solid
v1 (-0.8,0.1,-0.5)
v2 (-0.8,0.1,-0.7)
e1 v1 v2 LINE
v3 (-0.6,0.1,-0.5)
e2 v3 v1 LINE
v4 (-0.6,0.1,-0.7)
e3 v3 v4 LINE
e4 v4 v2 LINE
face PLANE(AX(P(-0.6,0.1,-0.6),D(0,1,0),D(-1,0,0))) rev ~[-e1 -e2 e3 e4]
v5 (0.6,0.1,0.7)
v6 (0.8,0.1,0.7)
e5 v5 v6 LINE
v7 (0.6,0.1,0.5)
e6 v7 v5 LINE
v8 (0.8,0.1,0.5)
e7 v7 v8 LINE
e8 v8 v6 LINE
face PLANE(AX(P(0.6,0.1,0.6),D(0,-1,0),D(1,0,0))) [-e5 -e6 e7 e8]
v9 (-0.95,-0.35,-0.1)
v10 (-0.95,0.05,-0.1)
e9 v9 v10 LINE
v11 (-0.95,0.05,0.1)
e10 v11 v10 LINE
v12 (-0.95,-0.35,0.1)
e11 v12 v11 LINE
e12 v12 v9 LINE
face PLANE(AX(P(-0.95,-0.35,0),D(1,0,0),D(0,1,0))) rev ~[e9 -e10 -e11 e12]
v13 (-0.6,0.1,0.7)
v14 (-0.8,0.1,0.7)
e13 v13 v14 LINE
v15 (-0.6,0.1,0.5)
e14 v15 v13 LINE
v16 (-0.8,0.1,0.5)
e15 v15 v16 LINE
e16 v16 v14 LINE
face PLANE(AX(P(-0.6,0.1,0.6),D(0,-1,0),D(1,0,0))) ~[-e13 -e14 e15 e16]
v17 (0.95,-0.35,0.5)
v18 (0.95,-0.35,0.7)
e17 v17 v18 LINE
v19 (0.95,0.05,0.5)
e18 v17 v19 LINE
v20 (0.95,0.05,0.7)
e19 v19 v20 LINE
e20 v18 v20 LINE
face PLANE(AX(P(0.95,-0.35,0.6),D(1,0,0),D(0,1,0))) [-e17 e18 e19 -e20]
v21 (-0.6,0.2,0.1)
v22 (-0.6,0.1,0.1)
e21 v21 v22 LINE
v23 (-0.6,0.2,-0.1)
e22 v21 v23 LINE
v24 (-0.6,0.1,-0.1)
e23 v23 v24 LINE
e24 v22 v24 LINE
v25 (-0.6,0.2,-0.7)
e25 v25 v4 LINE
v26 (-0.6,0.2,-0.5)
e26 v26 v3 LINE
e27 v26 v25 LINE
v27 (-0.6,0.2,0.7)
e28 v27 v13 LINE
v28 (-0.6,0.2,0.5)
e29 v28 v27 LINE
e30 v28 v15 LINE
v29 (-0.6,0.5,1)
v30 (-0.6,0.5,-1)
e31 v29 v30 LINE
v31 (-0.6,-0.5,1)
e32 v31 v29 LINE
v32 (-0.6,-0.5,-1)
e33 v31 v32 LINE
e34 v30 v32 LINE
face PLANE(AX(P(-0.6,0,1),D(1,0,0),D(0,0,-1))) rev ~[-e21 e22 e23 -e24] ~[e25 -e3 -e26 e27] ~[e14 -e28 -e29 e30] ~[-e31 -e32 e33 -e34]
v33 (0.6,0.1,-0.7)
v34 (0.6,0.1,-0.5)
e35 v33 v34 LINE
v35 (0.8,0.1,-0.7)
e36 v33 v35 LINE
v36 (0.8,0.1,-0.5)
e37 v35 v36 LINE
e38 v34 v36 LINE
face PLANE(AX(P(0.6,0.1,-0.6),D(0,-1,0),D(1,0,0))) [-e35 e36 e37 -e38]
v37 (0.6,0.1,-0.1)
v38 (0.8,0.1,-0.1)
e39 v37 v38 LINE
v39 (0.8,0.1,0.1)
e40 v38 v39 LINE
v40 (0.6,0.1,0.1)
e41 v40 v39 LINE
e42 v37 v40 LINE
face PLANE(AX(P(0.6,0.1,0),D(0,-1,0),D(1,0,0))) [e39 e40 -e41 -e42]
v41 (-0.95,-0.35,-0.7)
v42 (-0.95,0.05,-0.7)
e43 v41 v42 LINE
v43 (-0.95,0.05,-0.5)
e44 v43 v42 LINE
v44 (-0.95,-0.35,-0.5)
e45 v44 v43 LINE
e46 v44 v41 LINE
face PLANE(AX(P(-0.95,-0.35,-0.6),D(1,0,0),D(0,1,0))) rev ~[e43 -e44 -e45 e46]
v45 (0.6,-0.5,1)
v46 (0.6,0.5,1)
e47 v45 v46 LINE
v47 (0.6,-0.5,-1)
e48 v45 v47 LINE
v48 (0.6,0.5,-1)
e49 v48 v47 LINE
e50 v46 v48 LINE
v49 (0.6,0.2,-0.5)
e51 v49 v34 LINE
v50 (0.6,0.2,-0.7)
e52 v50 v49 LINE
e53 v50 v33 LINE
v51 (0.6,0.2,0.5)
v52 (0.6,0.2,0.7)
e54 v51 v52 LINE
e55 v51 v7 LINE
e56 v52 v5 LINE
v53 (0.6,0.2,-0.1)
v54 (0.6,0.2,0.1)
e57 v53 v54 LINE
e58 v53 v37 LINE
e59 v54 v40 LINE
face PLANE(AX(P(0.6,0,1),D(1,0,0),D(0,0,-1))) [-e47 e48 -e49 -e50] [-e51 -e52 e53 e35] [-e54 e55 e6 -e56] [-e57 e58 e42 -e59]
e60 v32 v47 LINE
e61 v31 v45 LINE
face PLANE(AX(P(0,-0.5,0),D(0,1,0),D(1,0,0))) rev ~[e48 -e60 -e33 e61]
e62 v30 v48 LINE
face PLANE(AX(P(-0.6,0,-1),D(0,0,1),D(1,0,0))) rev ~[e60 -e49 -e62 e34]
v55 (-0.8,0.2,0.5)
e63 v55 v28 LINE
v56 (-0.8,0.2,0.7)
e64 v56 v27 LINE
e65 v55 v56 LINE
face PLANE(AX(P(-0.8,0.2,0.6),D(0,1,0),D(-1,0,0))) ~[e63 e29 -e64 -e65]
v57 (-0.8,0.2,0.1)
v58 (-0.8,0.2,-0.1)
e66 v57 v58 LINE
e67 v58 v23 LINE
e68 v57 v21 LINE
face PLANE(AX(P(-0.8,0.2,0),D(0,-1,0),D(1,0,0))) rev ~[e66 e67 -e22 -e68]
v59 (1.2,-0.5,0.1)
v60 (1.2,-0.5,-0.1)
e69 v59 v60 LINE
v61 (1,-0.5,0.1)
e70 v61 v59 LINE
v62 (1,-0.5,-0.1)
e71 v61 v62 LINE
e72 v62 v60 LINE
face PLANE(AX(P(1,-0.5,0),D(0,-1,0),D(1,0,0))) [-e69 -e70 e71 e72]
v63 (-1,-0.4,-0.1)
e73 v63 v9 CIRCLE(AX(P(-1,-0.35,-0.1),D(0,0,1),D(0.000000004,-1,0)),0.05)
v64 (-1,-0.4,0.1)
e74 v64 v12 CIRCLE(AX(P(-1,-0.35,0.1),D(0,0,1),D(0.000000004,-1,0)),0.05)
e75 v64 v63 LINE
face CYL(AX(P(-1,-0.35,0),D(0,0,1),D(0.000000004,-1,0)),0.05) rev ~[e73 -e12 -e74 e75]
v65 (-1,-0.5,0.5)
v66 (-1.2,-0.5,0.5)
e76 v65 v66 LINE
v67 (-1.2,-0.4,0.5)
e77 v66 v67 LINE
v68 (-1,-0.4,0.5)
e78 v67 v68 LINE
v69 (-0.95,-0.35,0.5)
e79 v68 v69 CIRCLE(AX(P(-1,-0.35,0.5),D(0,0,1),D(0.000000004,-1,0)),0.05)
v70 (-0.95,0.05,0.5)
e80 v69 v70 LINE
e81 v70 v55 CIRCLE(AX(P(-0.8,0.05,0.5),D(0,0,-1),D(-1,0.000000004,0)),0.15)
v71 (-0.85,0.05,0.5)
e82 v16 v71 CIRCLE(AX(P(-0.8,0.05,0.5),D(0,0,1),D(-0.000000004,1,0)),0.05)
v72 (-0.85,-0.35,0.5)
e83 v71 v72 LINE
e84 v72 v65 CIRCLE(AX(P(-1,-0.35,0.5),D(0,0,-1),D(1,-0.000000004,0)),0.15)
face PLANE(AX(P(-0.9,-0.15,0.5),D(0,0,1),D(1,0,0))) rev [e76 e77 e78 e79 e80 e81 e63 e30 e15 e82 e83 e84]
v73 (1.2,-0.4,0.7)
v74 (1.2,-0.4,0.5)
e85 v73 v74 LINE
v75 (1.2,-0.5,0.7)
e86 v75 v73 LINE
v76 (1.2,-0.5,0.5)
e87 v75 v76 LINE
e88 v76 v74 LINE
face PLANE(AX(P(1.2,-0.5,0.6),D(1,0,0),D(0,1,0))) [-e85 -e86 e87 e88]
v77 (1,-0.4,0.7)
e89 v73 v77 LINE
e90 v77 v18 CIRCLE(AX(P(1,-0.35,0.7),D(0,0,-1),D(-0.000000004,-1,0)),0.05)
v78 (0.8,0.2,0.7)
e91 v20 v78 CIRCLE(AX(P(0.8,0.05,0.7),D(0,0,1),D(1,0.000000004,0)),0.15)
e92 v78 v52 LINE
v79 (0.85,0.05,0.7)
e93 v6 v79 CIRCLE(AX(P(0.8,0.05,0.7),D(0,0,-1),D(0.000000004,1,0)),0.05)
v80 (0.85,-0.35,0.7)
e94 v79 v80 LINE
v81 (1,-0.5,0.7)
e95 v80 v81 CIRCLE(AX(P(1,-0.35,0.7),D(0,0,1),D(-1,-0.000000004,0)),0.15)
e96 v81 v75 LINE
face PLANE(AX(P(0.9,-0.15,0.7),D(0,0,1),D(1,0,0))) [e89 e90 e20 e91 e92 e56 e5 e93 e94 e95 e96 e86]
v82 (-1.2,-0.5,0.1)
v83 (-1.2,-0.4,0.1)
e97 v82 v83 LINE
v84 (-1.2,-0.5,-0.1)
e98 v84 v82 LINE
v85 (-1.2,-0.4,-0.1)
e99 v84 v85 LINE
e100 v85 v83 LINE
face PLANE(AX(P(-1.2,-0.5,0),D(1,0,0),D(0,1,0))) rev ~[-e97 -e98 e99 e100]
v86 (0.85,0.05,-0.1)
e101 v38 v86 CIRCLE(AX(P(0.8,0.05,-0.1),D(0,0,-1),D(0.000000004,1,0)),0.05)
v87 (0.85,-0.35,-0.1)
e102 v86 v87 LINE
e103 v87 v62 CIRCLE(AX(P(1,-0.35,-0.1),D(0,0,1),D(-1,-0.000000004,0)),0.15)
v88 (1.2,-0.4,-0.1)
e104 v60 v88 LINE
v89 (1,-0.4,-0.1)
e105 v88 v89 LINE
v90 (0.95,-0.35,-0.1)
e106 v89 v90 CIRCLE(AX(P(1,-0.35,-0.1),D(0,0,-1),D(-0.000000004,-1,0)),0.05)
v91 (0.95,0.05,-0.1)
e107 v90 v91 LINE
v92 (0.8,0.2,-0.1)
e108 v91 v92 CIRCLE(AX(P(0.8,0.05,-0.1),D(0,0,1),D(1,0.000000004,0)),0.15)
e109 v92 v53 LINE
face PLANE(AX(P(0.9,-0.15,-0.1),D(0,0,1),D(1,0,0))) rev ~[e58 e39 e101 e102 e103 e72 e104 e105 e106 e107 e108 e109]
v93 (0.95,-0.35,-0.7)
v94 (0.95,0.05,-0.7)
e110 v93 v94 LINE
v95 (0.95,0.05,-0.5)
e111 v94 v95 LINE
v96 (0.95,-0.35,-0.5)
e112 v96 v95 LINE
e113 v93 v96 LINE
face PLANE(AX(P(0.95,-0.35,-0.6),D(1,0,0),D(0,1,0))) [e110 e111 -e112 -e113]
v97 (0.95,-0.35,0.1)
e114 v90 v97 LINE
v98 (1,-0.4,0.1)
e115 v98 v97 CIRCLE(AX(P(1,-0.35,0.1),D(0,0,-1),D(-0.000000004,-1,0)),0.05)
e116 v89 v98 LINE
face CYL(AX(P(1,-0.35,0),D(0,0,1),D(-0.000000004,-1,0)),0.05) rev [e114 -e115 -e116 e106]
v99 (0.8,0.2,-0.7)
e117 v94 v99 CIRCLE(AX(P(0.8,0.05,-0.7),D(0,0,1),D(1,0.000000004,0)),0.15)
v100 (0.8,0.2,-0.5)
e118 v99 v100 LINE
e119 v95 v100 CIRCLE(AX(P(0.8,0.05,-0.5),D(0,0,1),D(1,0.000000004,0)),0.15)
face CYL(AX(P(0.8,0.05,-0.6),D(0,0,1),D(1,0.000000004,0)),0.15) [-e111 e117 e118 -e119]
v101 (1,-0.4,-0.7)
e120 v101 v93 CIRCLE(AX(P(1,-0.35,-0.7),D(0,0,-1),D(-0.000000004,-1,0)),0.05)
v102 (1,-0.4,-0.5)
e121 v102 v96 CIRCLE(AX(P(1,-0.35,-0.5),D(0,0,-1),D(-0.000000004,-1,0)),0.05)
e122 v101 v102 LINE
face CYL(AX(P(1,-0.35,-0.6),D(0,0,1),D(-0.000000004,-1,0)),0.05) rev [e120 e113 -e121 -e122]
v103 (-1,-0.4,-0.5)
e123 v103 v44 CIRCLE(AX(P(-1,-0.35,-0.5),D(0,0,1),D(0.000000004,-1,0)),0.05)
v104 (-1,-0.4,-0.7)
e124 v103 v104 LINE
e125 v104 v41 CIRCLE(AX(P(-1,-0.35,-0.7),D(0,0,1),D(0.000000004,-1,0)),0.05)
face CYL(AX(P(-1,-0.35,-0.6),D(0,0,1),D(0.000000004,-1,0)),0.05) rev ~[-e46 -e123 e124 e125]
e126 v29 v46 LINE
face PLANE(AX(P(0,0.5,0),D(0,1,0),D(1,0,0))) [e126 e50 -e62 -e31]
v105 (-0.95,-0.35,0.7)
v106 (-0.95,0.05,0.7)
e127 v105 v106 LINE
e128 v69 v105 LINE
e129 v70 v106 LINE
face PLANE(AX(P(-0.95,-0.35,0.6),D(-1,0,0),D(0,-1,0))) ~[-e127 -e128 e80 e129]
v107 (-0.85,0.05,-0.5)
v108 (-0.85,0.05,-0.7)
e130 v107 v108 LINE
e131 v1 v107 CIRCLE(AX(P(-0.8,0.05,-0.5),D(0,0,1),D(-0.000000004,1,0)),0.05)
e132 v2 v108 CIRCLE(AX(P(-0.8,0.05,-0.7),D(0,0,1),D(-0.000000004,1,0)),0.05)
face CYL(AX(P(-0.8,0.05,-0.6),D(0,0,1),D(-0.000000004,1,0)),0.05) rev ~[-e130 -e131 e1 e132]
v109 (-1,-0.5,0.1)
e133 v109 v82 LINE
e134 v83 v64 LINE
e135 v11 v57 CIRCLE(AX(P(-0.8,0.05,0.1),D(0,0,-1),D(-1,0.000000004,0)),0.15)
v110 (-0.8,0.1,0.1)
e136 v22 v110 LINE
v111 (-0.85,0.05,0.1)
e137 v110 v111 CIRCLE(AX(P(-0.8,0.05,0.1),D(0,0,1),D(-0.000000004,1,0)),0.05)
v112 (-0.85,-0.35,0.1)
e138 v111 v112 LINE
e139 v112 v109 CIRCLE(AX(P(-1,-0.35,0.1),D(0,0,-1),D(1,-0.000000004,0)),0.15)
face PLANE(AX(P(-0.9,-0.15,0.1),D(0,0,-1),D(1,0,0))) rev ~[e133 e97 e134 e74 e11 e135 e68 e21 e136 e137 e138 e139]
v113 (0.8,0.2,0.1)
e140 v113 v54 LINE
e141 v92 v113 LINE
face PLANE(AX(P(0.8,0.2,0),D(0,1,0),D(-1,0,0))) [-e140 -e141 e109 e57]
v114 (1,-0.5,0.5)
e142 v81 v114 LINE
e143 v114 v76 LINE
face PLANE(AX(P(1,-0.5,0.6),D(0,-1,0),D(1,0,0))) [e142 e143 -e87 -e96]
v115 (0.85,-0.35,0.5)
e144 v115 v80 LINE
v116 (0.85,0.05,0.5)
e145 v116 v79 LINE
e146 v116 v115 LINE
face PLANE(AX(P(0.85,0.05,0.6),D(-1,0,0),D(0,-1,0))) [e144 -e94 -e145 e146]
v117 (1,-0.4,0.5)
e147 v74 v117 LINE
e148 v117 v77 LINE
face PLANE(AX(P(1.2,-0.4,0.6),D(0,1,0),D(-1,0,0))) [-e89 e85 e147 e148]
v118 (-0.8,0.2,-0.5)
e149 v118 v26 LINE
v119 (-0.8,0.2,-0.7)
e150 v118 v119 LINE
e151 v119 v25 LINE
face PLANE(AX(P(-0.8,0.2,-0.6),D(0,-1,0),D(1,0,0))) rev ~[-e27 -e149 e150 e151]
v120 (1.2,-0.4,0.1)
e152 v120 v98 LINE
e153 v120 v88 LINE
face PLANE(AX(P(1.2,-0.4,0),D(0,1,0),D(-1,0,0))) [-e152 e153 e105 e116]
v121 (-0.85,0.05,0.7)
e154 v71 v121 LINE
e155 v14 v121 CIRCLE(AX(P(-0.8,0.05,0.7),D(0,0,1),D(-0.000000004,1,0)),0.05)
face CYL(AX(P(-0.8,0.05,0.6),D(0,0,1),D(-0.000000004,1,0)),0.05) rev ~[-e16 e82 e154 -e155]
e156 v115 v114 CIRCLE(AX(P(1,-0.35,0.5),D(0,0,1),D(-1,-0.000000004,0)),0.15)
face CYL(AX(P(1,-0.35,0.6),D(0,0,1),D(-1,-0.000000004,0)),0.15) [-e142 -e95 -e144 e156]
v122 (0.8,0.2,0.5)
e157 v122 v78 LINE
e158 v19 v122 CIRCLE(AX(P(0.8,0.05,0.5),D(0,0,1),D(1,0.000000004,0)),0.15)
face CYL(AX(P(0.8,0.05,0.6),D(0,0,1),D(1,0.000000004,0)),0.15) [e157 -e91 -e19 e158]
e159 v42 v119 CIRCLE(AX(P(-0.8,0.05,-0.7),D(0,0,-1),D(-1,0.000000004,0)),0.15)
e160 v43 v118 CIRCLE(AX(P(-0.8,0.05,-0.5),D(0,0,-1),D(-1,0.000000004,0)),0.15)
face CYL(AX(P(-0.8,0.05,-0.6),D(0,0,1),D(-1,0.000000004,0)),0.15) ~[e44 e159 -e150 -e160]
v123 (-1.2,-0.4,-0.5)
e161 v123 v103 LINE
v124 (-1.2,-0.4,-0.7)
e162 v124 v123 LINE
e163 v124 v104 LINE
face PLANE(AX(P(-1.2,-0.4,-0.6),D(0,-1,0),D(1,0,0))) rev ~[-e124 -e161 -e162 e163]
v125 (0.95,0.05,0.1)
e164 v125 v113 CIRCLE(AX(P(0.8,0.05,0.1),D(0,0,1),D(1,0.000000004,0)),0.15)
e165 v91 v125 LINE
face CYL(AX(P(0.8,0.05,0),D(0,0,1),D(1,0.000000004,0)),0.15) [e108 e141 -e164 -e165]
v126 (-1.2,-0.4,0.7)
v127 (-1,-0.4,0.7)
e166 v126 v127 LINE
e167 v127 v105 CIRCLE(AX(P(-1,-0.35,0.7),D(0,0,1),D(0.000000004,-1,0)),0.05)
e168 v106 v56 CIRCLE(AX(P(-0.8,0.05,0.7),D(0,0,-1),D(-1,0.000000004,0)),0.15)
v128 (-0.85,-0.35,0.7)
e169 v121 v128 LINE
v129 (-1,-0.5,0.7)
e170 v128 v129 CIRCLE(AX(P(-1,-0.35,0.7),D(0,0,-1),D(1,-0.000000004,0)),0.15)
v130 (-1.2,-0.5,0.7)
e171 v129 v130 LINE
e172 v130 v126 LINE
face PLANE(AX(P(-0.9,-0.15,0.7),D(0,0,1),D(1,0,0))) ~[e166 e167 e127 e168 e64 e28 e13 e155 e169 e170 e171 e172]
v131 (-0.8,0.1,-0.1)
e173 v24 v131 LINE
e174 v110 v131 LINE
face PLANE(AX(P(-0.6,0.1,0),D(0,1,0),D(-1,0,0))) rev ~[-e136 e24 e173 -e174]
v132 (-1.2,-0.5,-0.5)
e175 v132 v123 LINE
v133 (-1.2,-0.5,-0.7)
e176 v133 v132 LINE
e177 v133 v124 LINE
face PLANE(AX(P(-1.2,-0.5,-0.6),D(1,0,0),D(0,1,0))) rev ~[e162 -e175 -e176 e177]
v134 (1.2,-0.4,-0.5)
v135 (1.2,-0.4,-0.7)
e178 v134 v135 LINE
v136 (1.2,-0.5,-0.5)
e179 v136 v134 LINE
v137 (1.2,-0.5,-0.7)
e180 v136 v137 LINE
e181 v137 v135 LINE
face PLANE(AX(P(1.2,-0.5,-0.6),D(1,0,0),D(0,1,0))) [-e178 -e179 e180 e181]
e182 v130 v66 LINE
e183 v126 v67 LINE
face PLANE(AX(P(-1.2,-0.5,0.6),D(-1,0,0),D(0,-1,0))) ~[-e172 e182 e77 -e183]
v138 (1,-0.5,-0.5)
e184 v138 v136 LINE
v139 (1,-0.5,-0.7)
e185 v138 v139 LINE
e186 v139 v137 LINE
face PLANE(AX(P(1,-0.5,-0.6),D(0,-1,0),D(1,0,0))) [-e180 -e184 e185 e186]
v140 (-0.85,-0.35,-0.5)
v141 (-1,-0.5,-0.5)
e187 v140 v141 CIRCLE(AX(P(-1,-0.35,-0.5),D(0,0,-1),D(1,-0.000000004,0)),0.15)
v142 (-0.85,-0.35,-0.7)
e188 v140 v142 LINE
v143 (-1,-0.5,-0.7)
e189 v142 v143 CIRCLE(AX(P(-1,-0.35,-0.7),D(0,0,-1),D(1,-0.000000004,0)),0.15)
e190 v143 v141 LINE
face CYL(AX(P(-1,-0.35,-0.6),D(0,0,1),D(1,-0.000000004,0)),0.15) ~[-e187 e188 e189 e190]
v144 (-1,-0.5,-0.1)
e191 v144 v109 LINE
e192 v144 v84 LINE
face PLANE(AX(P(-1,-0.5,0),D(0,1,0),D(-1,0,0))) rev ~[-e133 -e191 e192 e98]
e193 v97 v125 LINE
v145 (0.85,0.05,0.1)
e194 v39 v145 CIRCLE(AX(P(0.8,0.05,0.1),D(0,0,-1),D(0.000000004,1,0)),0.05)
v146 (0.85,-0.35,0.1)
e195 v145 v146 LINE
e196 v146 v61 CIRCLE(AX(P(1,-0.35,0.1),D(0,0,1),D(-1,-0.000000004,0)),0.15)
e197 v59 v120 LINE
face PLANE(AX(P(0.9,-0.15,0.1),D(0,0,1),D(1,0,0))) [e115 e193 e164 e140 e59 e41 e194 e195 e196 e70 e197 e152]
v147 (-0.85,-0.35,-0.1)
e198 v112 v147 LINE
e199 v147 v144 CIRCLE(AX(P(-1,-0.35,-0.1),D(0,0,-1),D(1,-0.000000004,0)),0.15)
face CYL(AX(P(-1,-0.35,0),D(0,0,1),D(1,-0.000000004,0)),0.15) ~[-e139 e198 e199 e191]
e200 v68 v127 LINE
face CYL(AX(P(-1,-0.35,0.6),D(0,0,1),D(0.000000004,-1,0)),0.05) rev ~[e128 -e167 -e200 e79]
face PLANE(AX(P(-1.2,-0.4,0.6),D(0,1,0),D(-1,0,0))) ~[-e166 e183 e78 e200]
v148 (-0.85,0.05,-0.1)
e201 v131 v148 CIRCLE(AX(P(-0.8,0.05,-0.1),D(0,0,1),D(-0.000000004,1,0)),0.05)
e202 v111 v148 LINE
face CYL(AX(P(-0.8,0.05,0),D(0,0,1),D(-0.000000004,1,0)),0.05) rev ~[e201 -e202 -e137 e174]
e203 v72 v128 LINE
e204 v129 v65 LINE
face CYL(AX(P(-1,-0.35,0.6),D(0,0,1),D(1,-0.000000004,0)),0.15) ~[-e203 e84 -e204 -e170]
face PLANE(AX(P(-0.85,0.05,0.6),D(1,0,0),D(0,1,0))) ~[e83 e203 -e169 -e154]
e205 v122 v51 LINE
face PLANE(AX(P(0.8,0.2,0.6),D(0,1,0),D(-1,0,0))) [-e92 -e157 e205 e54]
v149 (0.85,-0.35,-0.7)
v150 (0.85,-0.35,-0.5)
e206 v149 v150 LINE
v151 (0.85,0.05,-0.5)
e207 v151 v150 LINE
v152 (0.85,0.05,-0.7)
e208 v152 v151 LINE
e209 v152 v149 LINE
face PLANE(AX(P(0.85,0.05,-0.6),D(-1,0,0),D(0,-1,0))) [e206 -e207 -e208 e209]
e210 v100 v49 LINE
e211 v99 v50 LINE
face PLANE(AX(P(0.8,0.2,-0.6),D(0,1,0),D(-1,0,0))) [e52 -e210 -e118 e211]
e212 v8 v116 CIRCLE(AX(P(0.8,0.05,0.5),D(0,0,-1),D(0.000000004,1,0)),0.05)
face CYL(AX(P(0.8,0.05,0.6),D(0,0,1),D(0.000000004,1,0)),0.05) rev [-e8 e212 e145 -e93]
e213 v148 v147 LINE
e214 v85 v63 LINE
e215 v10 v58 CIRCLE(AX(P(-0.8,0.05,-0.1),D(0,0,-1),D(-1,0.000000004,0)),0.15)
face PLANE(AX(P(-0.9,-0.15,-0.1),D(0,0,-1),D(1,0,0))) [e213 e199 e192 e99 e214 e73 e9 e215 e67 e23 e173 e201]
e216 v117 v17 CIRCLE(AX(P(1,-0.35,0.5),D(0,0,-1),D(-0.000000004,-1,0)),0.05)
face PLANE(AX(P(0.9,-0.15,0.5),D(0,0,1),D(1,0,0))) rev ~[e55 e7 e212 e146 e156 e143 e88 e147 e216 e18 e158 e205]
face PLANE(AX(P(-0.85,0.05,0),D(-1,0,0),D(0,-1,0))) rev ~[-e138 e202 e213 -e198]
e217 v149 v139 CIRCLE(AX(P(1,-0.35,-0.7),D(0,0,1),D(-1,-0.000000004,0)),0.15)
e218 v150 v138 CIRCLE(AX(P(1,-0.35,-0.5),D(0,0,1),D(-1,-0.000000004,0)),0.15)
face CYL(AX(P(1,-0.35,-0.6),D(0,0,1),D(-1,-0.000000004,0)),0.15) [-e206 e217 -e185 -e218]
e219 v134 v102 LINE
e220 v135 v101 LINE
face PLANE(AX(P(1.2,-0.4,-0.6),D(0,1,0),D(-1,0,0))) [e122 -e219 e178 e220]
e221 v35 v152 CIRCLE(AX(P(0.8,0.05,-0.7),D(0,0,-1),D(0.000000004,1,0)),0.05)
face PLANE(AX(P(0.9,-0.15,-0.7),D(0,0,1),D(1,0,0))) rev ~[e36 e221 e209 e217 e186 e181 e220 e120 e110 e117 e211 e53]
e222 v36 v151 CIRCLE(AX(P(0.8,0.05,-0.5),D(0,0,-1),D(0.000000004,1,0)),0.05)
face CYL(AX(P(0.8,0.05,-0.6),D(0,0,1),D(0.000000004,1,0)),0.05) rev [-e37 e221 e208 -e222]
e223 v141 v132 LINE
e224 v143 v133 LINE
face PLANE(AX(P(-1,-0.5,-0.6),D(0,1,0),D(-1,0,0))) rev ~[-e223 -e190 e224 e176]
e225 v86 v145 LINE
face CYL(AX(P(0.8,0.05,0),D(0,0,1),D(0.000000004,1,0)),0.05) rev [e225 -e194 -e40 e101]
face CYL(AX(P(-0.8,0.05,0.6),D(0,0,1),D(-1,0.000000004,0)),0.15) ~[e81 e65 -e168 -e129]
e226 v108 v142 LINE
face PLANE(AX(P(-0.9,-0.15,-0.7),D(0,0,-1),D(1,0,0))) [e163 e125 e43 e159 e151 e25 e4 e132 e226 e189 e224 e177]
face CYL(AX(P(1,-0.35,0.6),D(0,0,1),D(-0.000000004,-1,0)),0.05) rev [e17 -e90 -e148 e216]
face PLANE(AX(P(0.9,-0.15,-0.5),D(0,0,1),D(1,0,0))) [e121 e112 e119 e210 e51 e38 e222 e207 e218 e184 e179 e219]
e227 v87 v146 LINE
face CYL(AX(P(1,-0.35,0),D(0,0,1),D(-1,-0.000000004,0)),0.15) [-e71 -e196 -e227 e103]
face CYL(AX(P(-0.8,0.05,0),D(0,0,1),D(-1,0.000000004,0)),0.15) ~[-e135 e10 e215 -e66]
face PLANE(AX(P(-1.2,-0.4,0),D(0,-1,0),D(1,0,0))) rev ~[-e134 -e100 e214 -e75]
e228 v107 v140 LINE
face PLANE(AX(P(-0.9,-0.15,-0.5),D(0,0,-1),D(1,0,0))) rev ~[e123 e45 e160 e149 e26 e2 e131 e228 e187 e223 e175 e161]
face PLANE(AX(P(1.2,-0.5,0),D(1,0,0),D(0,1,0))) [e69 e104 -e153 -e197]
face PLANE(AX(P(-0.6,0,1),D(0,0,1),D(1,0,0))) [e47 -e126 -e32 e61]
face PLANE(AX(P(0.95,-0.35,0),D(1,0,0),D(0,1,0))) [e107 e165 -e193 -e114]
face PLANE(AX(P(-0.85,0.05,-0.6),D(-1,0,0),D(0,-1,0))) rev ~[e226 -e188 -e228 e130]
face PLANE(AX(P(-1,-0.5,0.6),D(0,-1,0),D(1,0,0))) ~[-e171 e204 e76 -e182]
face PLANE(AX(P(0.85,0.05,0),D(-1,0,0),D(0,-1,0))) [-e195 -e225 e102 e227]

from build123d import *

# Parameters (mm, degrees)
BASES_W              = 1.2
BASES_H              = 2
BASE_DEPTH           = 0.5
MIDDLELEG_DEPTH      = 0.1
LPATTERN1_COUNT      = 3
LPATTERN1_PITCH      = 0.6
MIRROR1_COPY_1_DEPTH = 0.1
MIRROR1_COPY_2_DEPTH = 0.1


with BuildPart() as part:
    # BaseS → Base (new body, symmetric)
    with BuildSketch(Plane(origin=(0, 0, 0), x_dir=(1, 0, 0), z_dir=(0, 1, 0))):
        Rectangle(BASES_W, BASES_H)
    extrude(amount=BASE_DEPTH, both=True)

    # MiddleLegS → MiddleLeg (add, symmetric)
    with BuildSketch(Plane.XY.offset(0.6)):
        with BuildLine():
            Line((1.2, -0.4), (1, -0.4))
            ThreePointArc((1, -0.4), (0.964644661, -0.385355339), (0.95, -0.35))
            Line((0.95, -0.35), (0.95, 0.05))
            ThreePointArc((0.95, 0.05), (0.906066017, 0.156066017), (0.8, 0.2))
            Line((0.8, 0.2), (0.6, 0.2))
            Line((0.6, 0.2), (0.6, 0.1))
            Line((0.6, 0.1), (0.8, 0.1))
            ThreePointArc((0.8, 0.1), (0.835355339, 0.085355339), (0.85, 0.05))
            Line((0.85, 0.05), (0.85, -0.35))
            ThreePointArc((0.85, -0.35), (0.893933983, -0.456066017), (1, -0.5))
            Line((1, -0.5), (1.2, -0.5))
            Line((1.2, -0.5), (1.2, -0.4))
        make_face()
    middleleg = extrude(amount=MIDDLELEG_DEPTH, both=True)

    # LPattern1: MiddleLeg ×3
    with Locations(*[(0, 0, -i * LPATTERN1_PITCH) for i in range(1, LPATTERN1_COUNT)]):
        add(middleleg)

    # Mirror1: MiddleLeg across plane
    add(middleleg.mirror(Plane(origin=(0, 0, 0), x_dir=(0, 0, 1), z_dir=(1, 0, 0))))

    # Mirror1 copy 1 sketch → Mirror1 copy 1 (add, symmetric)
    with BuildSketch(Plane(origin=(0, 0, 0), x_dir=(-1, 0, 0), z_dir=(0, 0, 1))):
        with BuildLine():
            Line((1.2, 0.4), (1, 0.4))
            ThreePointArc((1, 0.4), (0.964644661, 0.385355339), (0.95, 0.35))
            Line((0.95, 0.35), (0.95, -0.05))
            ThreePointArc((0.95, -0.05), (0.906066017, -0.156066017), (0.8, -0.2))
            Line((0.8, -0.2), (0.6, -0.2))
            Line((0.6, -0.2), (0.6, -0.1))
            Line((0.6, -0.1), (0.8, -0.1))
            ThreePointArc((0.8, -0.1), (0.835355339, -0.085355339), (0.85, -0.05))
            Line((0.85, -0.05), (0.85, 0.35))
            ThreePointArc((0.85, 0.35), (0.893933983, 0.456066017), (1, 0.5))
            Line((1, 0.5), (1.2, 0.5))
            Line((1.2, 0.5), (1.2, 0.4))
        make_face()
    extrude(amount=MIRROR1_COPY_1_DEPTH, both=True)

    # Mirror1 copy 2 sketch → Mirror1 copy 2 (add, symmetric)
    with BuildSketch(Plane(origin=(0, 0, -0.6), x_dir=(-1, 0, 0), z_dir=(0, 0, 1))):
        with BuildLine():
            Line((1.2, 0.4), (1, 0.4))
            ThreePointArc((1, 0.4), (0.964644661, 0.385355339), (0.95, 0.35))
            Line((0.95, 0.35), (0.95, -0.05))
            ThreePointArc((0.95, -0.05), (0.906066017, -0.156066017), (0.8, -0.2))
            Line((0.8, -0.2), (0.6, -0.2))
            Line((0.6, -0.2), (0.6, -0.1))
            Line((0.6, -0.1), (0.8, -0.1))
            ThreePointArc((0.8, -0.1), (0.835355339, -0.085355339), (0.85, -0.05))
            Line((0.85, -0.05), (0.85, 0.35))
            ThreePointArc((0.85, 0.35), (0.893933983, 0.456066017), (1, 0.5))
            Line((1, 0.5), (1.2, 0.5))
            Line((1.2, 0.5), (1.2, 0.4))
        make_face()
    extrude(amount=MIRROR1_COPY_2_DEPTH, both=True)


solid = part.part
